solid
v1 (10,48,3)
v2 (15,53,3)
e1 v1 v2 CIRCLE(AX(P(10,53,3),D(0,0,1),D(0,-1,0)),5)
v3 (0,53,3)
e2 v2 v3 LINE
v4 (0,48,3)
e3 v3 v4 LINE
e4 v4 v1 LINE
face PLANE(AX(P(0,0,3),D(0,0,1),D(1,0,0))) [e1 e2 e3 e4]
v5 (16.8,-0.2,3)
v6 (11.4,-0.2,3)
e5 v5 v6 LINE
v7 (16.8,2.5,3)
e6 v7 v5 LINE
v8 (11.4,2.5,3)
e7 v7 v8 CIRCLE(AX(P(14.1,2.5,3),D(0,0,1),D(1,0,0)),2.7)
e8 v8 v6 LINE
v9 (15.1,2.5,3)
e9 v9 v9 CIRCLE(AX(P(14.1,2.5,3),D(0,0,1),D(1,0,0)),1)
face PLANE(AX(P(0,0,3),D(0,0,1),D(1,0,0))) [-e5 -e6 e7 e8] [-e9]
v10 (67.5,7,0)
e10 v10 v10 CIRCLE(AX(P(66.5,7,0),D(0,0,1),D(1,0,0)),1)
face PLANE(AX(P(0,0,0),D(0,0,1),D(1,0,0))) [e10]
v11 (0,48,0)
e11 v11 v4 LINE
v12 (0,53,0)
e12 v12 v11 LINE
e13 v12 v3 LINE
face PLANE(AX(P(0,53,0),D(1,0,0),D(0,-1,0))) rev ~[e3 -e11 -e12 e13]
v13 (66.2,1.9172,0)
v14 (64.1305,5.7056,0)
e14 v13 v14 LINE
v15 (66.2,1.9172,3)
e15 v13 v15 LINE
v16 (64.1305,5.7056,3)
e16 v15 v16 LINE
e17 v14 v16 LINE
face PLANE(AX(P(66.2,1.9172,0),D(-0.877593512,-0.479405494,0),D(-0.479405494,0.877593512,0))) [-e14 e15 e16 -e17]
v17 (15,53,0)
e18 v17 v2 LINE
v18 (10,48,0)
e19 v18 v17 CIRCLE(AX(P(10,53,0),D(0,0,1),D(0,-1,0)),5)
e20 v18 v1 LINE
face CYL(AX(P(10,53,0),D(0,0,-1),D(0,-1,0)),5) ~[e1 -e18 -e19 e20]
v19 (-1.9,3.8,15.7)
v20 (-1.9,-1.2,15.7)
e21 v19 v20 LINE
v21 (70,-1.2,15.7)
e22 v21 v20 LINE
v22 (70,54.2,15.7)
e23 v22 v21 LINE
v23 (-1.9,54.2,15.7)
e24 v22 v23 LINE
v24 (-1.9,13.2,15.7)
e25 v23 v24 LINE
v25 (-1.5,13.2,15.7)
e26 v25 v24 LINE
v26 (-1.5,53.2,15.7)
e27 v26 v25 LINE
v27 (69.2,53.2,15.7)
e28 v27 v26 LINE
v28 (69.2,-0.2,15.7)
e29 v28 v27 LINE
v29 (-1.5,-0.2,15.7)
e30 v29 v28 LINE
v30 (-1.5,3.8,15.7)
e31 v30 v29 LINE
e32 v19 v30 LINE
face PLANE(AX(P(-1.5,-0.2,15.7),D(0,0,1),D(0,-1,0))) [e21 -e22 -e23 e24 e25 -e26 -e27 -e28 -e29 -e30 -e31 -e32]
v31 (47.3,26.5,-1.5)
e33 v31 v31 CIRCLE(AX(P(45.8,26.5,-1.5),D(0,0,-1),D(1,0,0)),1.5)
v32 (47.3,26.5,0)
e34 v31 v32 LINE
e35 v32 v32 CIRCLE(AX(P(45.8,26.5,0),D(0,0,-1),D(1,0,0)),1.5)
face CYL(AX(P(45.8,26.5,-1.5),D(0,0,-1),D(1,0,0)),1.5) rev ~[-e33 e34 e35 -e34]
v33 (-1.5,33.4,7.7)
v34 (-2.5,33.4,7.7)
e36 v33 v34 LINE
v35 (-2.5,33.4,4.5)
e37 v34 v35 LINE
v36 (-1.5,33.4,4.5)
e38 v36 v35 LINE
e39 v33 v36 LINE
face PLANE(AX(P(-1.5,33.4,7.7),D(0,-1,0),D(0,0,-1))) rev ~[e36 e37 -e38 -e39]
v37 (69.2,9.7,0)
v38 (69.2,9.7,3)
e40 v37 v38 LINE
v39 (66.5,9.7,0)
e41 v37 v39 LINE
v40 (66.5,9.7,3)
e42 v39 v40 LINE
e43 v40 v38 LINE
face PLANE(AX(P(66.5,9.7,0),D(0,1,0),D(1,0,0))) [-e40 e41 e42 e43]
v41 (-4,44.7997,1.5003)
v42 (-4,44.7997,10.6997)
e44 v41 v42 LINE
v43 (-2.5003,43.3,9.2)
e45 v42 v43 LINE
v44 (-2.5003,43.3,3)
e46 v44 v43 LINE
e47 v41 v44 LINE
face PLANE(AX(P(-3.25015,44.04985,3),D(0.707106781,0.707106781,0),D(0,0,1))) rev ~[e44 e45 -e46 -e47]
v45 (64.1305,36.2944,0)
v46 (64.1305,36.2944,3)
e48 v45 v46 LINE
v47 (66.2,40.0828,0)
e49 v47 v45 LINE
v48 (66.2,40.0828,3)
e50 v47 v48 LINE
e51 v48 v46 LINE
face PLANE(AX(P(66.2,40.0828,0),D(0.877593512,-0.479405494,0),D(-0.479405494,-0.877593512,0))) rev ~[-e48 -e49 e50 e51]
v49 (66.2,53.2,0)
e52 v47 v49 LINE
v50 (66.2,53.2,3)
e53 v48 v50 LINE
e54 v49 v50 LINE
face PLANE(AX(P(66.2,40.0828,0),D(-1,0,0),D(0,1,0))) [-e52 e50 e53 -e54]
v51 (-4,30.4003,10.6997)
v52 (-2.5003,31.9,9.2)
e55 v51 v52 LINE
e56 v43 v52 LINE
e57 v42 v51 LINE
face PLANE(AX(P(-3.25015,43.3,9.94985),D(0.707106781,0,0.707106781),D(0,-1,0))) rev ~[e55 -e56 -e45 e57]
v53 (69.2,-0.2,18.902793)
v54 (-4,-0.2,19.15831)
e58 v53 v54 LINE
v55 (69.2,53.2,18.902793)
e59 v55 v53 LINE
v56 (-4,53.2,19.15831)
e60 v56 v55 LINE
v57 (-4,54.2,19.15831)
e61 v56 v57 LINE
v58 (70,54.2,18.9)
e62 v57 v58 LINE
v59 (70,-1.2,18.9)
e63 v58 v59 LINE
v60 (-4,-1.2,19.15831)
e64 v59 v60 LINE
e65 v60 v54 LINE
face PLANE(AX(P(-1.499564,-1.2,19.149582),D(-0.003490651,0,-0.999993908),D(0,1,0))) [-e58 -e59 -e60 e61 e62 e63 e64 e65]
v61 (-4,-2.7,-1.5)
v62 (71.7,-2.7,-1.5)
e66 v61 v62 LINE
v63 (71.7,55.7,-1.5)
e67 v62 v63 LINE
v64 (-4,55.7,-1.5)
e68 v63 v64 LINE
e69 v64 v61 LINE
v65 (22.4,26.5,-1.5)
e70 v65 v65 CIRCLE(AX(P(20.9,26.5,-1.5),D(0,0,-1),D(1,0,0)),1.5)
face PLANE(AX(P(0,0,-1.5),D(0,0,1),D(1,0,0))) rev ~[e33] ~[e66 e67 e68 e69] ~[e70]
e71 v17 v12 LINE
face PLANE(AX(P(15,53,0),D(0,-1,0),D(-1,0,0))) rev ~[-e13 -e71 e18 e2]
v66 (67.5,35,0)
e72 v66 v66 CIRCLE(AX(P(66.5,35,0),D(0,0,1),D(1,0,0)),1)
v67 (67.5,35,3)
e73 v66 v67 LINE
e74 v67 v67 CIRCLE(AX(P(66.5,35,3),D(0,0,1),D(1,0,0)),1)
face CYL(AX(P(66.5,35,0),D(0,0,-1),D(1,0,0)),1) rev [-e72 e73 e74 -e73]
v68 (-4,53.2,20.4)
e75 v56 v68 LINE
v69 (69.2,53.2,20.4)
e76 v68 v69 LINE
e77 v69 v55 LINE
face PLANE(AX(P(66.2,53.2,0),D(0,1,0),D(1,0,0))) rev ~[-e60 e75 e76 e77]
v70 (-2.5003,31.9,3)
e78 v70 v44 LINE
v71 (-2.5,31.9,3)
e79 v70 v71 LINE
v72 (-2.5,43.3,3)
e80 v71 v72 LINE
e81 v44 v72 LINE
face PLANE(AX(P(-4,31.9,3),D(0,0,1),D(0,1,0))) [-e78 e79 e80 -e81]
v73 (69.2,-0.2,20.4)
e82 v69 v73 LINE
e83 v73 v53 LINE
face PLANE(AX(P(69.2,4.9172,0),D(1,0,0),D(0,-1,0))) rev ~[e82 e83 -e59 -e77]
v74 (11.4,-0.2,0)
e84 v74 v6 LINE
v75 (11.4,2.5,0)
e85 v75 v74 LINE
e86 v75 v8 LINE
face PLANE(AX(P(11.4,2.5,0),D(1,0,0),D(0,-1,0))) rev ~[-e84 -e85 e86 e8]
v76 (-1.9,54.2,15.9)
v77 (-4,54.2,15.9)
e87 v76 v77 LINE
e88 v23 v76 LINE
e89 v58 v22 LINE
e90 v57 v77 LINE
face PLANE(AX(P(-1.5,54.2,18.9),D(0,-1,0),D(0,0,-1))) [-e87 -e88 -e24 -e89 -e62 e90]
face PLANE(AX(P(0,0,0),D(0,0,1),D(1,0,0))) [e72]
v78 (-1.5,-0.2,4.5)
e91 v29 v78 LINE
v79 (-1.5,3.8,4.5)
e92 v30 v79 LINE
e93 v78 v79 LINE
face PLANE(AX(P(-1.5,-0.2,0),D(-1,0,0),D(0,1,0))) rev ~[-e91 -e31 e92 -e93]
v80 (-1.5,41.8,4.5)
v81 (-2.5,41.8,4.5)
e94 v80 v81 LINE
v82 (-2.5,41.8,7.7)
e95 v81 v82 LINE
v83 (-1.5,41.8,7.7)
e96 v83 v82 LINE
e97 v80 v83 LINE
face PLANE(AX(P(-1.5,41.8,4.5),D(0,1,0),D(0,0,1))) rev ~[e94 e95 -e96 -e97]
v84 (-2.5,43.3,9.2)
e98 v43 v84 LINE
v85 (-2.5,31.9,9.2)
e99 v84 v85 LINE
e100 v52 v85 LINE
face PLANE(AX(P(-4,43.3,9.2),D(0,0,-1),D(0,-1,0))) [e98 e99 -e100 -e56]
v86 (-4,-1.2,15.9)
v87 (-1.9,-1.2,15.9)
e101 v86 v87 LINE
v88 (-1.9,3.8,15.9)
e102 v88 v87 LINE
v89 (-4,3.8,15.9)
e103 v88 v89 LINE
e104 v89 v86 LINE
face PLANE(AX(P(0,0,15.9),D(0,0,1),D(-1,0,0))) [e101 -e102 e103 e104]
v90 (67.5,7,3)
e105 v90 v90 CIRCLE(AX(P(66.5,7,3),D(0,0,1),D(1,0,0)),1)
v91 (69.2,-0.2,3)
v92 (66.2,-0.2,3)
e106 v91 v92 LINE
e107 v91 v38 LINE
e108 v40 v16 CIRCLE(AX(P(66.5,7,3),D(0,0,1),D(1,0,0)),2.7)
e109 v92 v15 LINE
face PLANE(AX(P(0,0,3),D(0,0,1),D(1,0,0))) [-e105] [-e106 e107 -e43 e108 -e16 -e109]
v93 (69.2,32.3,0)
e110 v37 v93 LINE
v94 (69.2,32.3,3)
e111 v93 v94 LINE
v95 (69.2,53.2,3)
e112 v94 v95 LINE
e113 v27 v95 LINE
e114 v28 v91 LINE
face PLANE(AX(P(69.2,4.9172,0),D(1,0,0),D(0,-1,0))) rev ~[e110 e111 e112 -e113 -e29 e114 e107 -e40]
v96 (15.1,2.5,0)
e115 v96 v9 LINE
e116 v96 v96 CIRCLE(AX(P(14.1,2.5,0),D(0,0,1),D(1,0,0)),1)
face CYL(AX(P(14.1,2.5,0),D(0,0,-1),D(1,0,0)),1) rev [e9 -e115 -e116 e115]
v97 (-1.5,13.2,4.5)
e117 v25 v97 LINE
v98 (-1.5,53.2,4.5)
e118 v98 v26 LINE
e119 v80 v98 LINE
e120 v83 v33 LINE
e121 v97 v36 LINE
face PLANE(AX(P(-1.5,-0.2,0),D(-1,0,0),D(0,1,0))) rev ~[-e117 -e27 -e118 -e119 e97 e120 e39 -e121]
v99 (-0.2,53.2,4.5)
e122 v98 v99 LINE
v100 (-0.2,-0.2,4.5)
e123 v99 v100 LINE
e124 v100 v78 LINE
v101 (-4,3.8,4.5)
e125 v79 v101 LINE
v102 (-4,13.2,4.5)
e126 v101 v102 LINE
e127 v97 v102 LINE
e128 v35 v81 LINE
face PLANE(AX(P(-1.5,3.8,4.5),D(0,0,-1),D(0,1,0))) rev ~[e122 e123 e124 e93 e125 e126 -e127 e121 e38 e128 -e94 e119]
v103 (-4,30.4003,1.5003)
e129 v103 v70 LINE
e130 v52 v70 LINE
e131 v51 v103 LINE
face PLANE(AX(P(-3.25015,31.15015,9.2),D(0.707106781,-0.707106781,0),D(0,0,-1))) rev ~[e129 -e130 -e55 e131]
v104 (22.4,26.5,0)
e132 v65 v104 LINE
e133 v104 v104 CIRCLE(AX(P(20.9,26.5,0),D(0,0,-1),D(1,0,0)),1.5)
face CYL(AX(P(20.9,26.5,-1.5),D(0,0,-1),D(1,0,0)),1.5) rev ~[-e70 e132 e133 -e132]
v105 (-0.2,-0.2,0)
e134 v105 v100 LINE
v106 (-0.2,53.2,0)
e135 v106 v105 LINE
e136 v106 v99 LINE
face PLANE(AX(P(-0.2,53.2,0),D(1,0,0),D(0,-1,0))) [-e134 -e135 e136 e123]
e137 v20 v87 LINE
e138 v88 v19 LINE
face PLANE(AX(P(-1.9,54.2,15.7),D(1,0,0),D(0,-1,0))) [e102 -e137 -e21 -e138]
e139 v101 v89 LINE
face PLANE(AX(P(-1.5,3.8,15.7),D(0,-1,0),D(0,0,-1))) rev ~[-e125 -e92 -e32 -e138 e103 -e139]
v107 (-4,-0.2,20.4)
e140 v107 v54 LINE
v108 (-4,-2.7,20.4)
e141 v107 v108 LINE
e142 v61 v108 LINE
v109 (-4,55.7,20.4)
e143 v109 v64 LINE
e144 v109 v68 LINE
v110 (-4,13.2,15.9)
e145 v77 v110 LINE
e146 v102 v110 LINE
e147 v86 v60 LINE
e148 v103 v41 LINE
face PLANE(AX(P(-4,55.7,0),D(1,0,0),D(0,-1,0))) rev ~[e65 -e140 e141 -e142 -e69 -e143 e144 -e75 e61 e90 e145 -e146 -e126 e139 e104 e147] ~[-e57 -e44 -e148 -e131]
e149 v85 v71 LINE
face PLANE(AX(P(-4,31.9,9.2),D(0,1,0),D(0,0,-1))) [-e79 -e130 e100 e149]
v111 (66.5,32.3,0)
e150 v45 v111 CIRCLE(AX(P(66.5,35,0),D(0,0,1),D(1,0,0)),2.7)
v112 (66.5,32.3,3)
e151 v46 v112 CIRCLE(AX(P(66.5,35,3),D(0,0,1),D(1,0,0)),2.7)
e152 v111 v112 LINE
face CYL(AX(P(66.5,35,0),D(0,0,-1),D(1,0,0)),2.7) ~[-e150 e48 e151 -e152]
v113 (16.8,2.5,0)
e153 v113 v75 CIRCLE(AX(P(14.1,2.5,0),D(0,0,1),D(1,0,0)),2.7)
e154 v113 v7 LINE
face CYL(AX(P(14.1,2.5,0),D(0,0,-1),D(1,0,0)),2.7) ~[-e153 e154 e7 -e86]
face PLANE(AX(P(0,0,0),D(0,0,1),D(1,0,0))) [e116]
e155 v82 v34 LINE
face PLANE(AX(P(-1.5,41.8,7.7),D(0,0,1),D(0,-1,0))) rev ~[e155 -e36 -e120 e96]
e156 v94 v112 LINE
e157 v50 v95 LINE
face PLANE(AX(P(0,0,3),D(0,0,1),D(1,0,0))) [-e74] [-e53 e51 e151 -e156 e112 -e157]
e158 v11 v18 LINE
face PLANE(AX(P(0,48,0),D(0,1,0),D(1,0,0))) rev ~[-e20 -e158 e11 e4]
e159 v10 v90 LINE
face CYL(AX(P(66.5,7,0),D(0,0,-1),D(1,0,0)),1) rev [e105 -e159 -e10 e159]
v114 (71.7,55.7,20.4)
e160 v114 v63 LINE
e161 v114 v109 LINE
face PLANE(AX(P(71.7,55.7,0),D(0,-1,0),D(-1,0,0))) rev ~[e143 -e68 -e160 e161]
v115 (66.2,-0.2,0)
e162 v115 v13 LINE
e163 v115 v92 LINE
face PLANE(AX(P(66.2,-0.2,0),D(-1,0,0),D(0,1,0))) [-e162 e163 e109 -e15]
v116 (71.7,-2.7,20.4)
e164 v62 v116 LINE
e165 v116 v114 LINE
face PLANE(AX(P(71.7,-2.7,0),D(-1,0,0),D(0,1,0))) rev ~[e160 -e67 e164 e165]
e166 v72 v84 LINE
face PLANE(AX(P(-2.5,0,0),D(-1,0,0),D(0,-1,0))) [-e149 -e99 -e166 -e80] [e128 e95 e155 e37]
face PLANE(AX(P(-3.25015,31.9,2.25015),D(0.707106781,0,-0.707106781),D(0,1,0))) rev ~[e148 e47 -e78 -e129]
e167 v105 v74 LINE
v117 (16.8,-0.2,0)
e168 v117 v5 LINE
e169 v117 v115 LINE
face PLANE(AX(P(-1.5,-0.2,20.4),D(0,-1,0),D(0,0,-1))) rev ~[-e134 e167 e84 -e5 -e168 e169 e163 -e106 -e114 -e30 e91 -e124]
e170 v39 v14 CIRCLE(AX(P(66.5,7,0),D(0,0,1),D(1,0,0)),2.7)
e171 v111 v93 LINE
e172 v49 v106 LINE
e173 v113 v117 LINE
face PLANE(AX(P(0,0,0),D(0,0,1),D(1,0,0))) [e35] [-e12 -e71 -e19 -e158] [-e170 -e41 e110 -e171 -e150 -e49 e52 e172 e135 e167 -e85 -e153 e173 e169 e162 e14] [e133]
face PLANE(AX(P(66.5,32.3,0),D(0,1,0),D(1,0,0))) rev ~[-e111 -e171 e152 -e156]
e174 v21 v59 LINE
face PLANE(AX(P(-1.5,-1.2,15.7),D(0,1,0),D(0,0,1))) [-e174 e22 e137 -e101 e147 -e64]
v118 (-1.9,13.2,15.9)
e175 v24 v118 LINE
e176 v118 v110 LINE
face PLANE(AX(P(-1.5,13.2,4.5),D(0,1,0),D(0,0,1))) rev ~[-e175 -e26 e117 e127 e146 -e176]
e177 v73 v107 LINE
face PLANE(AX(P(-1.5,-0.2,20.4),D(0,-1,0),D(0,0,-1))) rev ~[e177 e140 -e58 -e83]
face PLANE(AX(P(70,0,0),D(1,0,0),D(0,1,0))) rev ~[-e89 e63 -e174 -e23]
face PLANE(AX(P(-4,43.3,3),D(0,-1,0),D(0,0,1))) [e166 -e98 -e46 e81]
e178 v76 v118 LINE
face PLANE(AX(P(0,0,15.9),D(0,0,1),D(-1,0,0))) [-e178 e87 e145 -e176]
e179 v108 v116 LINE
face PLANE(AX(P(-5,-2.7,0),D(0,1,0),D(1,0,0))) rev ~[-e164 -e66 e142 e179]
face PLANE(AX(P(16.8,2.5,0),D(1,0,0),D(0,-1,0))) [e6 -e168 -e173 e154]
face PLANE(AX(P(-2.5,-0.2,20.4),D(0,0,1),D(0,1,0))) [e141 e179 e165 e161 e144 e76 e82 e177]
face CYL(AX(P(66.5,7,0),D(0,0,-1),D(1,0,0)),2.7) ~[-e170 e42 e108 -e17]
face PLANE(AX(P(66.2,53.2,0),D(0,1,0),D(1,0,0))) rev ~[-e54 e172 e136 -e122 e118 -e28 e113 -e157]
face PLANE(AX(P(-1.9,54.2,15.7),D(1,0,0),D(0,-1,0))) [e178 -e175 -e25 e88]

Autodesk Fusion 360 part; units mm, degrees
sketch "Esquisse1" plane through (0, 0, 0) normal (0, 0, 1) x (1, 0, 0)
  line L0 (0, 0) -> (66, 0) construction
  line L1 (66, 53) -> (0, 53) construction
  line L2 (0, 53) -> (0, 0) construction
  line L3 (66, 0) -> (66, 2) construction
  line L4 (66, 2) -> (69, 5) construction
  line L5 (69, 5) -> (69, 37) construction
  line L6 (69, 37) -> (66, 40) construction
  line L7 (66, 40) -> (66, 53) construction
  line L8 (-0.2, -0.2) -> (66.2, -0.2)
  line L9 (66.2, -0.2) -> (66.2, 1.9172)
  line L10 (66.2, 1.9172) -> (69.2, 4.9172)
  line L11 (69.2, 4.9172) -> (69.2, 37.0828)
  line L12 (69.2, 37.0828) -> (66.2, 40.0828)
  line L13 (66.2, 40.0828) -> (66.2, 53.2)
  line L14 (66.2, 53.2) -> (-0.2, 53.2)
  line L15 (-0.2, 53.2) -> (-0.2, -0.2)
  dimension "d1" = 66
  dimension "d2" = 53
  dimension "d6" = 37
  dimension "d7" = 40
  dimension "d10" = 3
  dimension "d11" = 3
  dimension "d12" = 2
  dimension "d24" = 0.2
sketch "Esquisse2" plane through (0, 0, 0) normal (0, 0, 1) x (1, 0, 0)
  circle A0 centre (14.1, 2.5) radius 1
  circle A1 centre (66.5, 35) radius 1
  circle A2 centre (66.5, 7) radius 1
  line L0 (0, 53) -> (0, 0)
  line L1 (66, 53) -> (0, 53)
  line L2 (69, 5) -> (69, 37)
  line L3 (66.5, 7) -> (66.5, 35) construction
  line L4 (0, 0) -> (66, 0) construction
  circle A3 centre (14.1, 2.5) radius 2.7
  circle A4 centre (66.5, 35) radius 2.7
  circle A5 centre (66.5, 7) radius 2.7
  line L5 (69.2, 37.0828) -> (66.2, 40.0828)
  line L6 (66.2, 40.0828) -> (66.2, 53.2)
  line L7 (66.2, 40.0828) -> (64.1305, 36.2944)
  line L8 (69.2, 4.9172) -> (69.2, 37.0828)
  line L9 (66.5, 32.3) -> (69.2, 32.3)
  arc A6 (64.1305, 36.2944) -> (66.5, 32.3) centre (66.5, 35) ccw
  line L10 (66.2, 1.9172) -> (69.2, 4.9172)
  line L11 (66.2, -0.2) -> (66.2, 1.9172)
  line L12 (66.2, 1.9172) -> (64.1305, 5.7056)
  line L13 (66.5, 9.7) -> (69.2, 9.7)
  arc A7 (66.5, 9.7) -> (64.1305, 5.7056) centre (66.5, 7) ccw
  line L14 (-0.2, -0.2) -> (66.2, -0.2)
  line L15 (16.8, 2.5) -> (16.8, -0.2)
  line L16 (11.4, 2.5) -> (11.4, -0.2)
  arc A8 (16.8, 2.5) -> (11.4, 2.5) centre (14.1, 2.5) ccw
  line L17 (0, 48) -> (10, 48)
  line L18 (10, 48) -> (10, 53) construction
  arc A9 (10, 48) -> (15, 53) centre (10, 53) ccw
  dimension "d14" = 2
  dimension "d15" = 2
  dimension "d16" = 2
  dimension "d17" = 14.1
  dimension "d20" = 2.5
  dimension "d21" = 7
  dimension "d22" = 2
  dimension "d33" = 1.7
  dimension "d34" = 2.5
  dimension "d45" = 5
  dimension "d46" = 10
  dimension "d85" = 2.7
sketch "Esquisse3" plane through (0, 0, 0) normal (0, 0, 1) x (1, 0, 0)
  line L0 (-4, -1.7) -> (70.7, -1.7)
  line L1 (70.7, -1.7) -> (70.7, 54.7)
  line L2 (70.7, 54.7) -> (-4, 54.7)
  line L3 (-4, 54.7) -> (-4, -1.7)
  line L4 (-0.2, -0.2) -> (66.2, -0.2)
  line L5 (69.2, 4.9172) -> (69.2, 37.0828)
  line L6 (-5, -2.7) -> (71.7, -2.7)
  line L7 (71.7, -2.7) -> (71.7, 55.7)
  line L8 (71.7, 55.7) -> (-5, 55.7)
  line L9 (-5, 55.7) -> (-5, -2.7)
  dimension "d26" = 56.4
  dimension "d27" = 1.5
  dimension "d28" = 74.7
  dimension "d29" = 1.5
  dimension "d52" = 1
extrude "Extrusion1" add sketch "Esquisse3" against normal blind 1.5 contours L0 L1 L2 L3
sketch "Esquisse4" plane through (0, 0, 0) normal (0, 0, 1) x (-1, 0, 0)
  line L0 (4, -54.7) -> (4, 1.7)
  line L1 (4, 1.7) -> (-70.7, 1.7)
  line L2 (-70.7, 1.7) -> (-70.7, -54.7)
  line L3 (-70.7, -54.7) -> (4, -54.7)
  line L4 (4, -54.7) -> (-70.7, -54.7)
  line L5 (-70.7, -54.7) -> (-70.7, 1.7)
  line L6 (-70.7, 1.7) -> (4, 1.7)
  line L7 (4, 1.7) -> (4, -54.7)
  line L8 (2.5, -53.2) -> (-69.2, -53.2)
  line L9 (-69.2, -53.2) -> (-69.2, 0.2)
  line L10 (-69.2, 0.2) -> (2.5, 0.2)
  line L11 (2.5, 0.2) -> (2.5, -53.2)
  line L12 (-66.2, 0.2) -> (-66.2, -1.9172)
  line L13 (-66.2, -1.9172) -> (-69.2, -4.9172)
  line L14 (-66.2, -40.0828) -> (-66.2, -53.2)
  line L15 (-69.2, -37.0828) -> (-66.2, -40.0828)
  line L16 (0.2, -53.2) -> (0.2, 0.2)
  dimension "d32" = 1.5
extrude "Extrusion2" add sketch "Esquisse2" along normal blind 2 contours A1 | A2 | L2 A5 A7 | A5 L8 L10 L12 | L2 A5 | L2 A5 L13 | L2 A5 L8 L13 | L2 A4 L9 | L2 A4 L8 L9 | L2 A4 A6 | L2 A4 | A4 L5 L7 L8 | A3 A8 | A3 L14 L15 | A3 L14 L16
extrude "Extrusion3" cut 3 faces at (14.0751, 0.3676, 2) (66.6102, 6.7743, 2) (66.6102, 35.2257, 2) along direction (0, 0, -1) blind 2
extrude "Extrusion4" add sketch "Esquisse2" sketch "Esquisse4" along normal blind 3 contours L2 A5 A7 | A5 L8 L10 L12 | L2 A5 | L2 A5 L13 | L2 A5 L8 L13 | L2 A4 L9 | L2 A4 L8 L9 | L2 A4 A6 | L2 A4 | A4 L5 L7 L8 | A3 A8 | A3 L14 L15 | A3 L14 L16 of sketch 2 contours L8 L9 L14 L15 | L9 L10 L12 L13
extrude "Extrusion5" add sketch "Esquisse4" along normal blind 4.5 contours L8 L10 L11 L16
extrude "Extrusion6" add sketch "Esquisse3" sketch "Esquisse4" along normal blind 20.4 and the other way up to surface of sketch 2 second end surface through (0, 0, -1.5) normal (0, 0, -1) offset 0
extrude "Extrusion7" add sketch "Esquisse2" along normal blind 3 contours L0 L1 L17 A9
sketch "Esquisse5" plane through (0, 0, -1.5) normal (0, 0, -1) x (1, 0, 0)
  line L0 (70.7, -26.5) -> (-4, -26.5) construction
  circle A0 centre (45.8, -26.5) radius 1.5
  circle A1 centre (20.9, -26.5) radius 1.5
  line L1 (20.9, -28) -> (-4, -28) construction
  line L2 (20.9, -28) -> (45.8, -28) construction
  line L3 (45.8, -28) -> (70.7, -28) construction
  line L4 (71.7, 2.7) -> (-5, 2.7)
  line L5 (-5, 2.7) -> (-5, -55.7)
  line L6 (-5, -55.7) -> (71.7, -55.7)
  line L7 (71.7, -55.7) -> (71.7, 2.7)
  dimension "d49" = 3
extrude "Extrusion8" cut sketch "Esquisse5" against normal blind 1.5 contours A0 | A1
extrude "Extrusion11" add 1 faces at (-2.5, 17.6, 9.8) along direction (1, 0, 0) blind 1
extrude "Extrusion12" cut 1 faces at (-5, 36.2333, 5.8) along direction (1, 0, 0) blind 1
sketch "Esquisse10" plane through (-1.5, 0, 0) normal (1, 0, 0) x (0, 1, 0)
  line L0 (-0.2, 4.5) -> (53.2, 4.5)
  line L1 (53.2, 4.5) -> (53.2, 20.4)
  line L2 (53.2, 20.4) -> (-0.2, 20.4)
  line L3 (-0.2, 20.4) -> (-0.2, 4.5)
  line L4 (-1.2, 18.9) -> (54.2, 18.9)
  line L5 (54.2, 18.9) -> (54.2, 15.7)
  line L6 (54.2, 15.7) -> (-1.2, 15.7)
  line L7 (-1.2, 15.7) -> (-1.2, 18.9)
  line L8 (26.5, 18.9) -> (26.5, 20.4) construction
  line L9 (-0.2, 18.9) -> (-0.2, 20.4)
  line L10 (-0.2, 20.4) -> (53.2, 20.4)
  dimension "d89" = 1.5
  dimension "d90" = 3.2
  dimension "d93" = 55.4
extrude "Extrusion17" cut sketch "Esquisse10" against normal up to surface (2.5 mm away) contours L3 L4 L6 L7 | L1 L3 L4 L6 | L1 L4 L5 L6 | L1 L2 L3 L4 L9 L10
extrude "Extrusion18" cut sketch "Esquisse10" along normal blind 71.5 contours L3 L4 L6 L7 | L1 L3 L4 L6 | L1 L4 L5 L6
sketch "Esquisse11" plane through (0, 0, 15.7) normal (0, 0, 1) x (-1, 0, 0)
  line L0 (-70, -54.2) -> (4, -54.2)
  line L1 (4, -54.2) -> (4, 1.2)
  line L2 (4, 1.2) -> (-70, 1.2)
  line L3 (-70, 1.2) -> (-70, -54.2)
  line L4 (1.5, -53.2) -> (-69.2, -53.2)
  line L5 (-69.2, -53.2) -> (-69.2, 0.2)
  line L6 (-69.2, 0.2) -> (1.5, 0.2)
  line L7 (1.5, 0.2) -> (1.5, -53.2)
  line L8 (1.9, -54.2) -> (1.9, 1.2)
  dimension "d98" = 71.9
extrude "Extrusion19" add sketch "Esquisse11" along normal blind 0.2 contours L0 L1 L2 L8
sketch "Esquisse7" plane through (-1.5, 0, 0) normal (1, 0, 0) x (0, 1, 0)
  line L0 (-0.2, 15.7) -> (-0.2, 4.5)
  line L1 (-0.2, 4.5) -> (53.2, 4.5)
  line L2 (53.2, 4.5) -> (53.2, 15.7)
  line L3 (3.8, 4.5) -> (13.2, 4.5)
  line L4 (13.2, 4.5) -> (13.2, 15.9)
  line L5 (13.2, 15.9) -> (3.8, 15.9)
  line L6 (3.8, 15.9) -> (3.8, 4.5)
  line L7 (33.4, 4.5) -> (41.8, 4.5)
  line L8 (41.8, 4.5) -> (41.8, 7.7)
  line L9 (41.8, 7.7) -> (33.4, 7.7)
  line L10 (33.4, 7.7) -> (33.4, 4.5)
  line L11 (53.2, 15.7) -> (-0.2, 15.7)
  dimension "d66" = 9.4
  dimension "d67" = 11.4
  dimension "d68" = 4
  dimension "d71" = 8.4
  dimension "d72" = 3.2
  dimension "d73" = 11.4
extrude "Extrusion14" cut sketch "Esquisse7" against normal blind 2.5 contours L1 L3 L4 L6 L11 | L4 L5 L6 L11 | L1 L7 L8 L9 L10
sketch "Esquisse8" plane through (-4, 0, 0) normal (-1, 0, 0) x (0, -1, 0)
  line L0 (-3.8, 4.5) -> (-13.2, 4.5)
  line L1 (-13.2, 4.5) -> (-13.2, 15.9)
  line L2 (-3.8, 15.9) -> (-3.8, 4.5)
  line L3 (-33.4, 4.5) -> (-41.8, 4.5)
  line L4 (-41.8, 4.5) -> (-41.8, 7.7)
  line L5 (-41.8, 7.7) -> (-33.4, 7.7)
  line L6 (-33.4, 7.7) -> (-33.4, 4.5)
  line L7 (-53.2, 20.4) -> (-55.7, 20.4)
  line L8 (-55.7, -1.5) -> (2.7, -1.5)
  line L9 (-31.9, 3) -> (-43.3, 3)
  line L10 (-43.3, 3) -> (-43.3, 9.2)
  line L11 (-43.3, 9.2) -> (-31.9, 9.2)
  line L12 (-31.9, 9.2) -> (-31.9, 3)
  line L13 (2.7, -1.5) -> (2.7, 20.4)
  line L14 (-55.7, 20.4) -> (-55.7, -1.5)
  line L15 (-13.2, 15.9) -> (-54.2, 15.9)
  line L16 (-54.2, 15.9) -> (-54.2, 18.9)
  line L17 (-54.2, 18.9) -> (-53.2, 18.9)
  line L18 (-53.2, 18.9) -> (-53.2, 20.4)
  line L19 (2.7, 20.4) -> (0.2, 20.4)
  line L20 (0.2, 20.4) -> (0.2, 18.9)
  line L21 (0.2, 18.9) -> (1.2, 18.9)
  line L22 (1.2, 18.9) -> (1.2, 15.9)
  line L23 (1.2, 15.9) -> (-3.8, 15.9)
  dimension "d79" = -1.5
extrude "Extrusion16" cut sketch "Esquisse8" against normal blind 1.5 contours L9 L10 L11 L12
chamfer "Chanfrein1" distance 1.5 angle 45 4 edges at (-4, 31.9, 6.1) (-4, 37.6, 9.2) (-4, 43.3, 6.1) (-4, 37.6, 3)
draft "Dépouille1" angle 0.2 neutral plane through (70, 0, 0) pull (-1, 0, 0) 1 faces at (45.0667, -0.8667, 18.9)
equation "d1 = longArduino"
equation "d2 = largArduino"
equation "longArduino = 66 mm"
equation "largArduino = 53 mm"
equation "d6 = longEncoche - largEncoche"
equation "d7 = longEncoche"
equation "longEncoche = 40 mm"
equation "largEncoche = 3 mm"
equation "d10 = largEncoche"
equation "d11 = largEncoche"
equation "percageArduino = 2 mm"
equation "d14 = percageArduino"
equation "d15 = percageArduino"
equation "d16 = percageArduino"
equation "decalagePercage = 2.5 mm"
equation "d20 = decalagePercage"
equation "decalageImpression = 0.2 mm"
equation "d24 = decalageImpression"
equation "epaisseurBoitier = 1.5 mm"
equation "d26 = largArduino + ( epaisseurBoitier + decalageImpression ) * 2"
equation "d27 = epaisseurBoitier"
equation "d28 = longArduino + largEncoche + epaisseurBoitier + decalageImpression + 4 mm"
equation "d29 = epaisseurBoitier"
equation "d33 = epaisseurBoitier + decalageImpression"
equation "d34 = decalagePercage"
equation "d41 = 3 mm + 1.5 mm"
equation "d43 = 20 mm - 1.3 mm + epaisseurBoitier + decalageImpression"
equation "largPriseDC = 9 mm"
equation "longPriseDC = 11 mm"
equation "d66 = largPriseDC + decalageImpression * 2"
equation "d67 = longPriseDC + decalageImpression * 2"
equation "largPriseUSB = 3 mm"
equation "longPriseUSB = 8 mm"
equation "d71 = longPriseUSB + decalageImpression * 2"
equation "d72 = largPriseUSB + decalageImpression"
equation "epaisseurPlexi = 3 mm"
equation "d89 = epaisseurBoitier"
equation "d90 = epaisseurPlexi + decalageImpression"
equation "largeurPlexi = 55 mm"
equation "longueurPlexi = 71.5 mm"
equation "d93 = largeurPlexi + decalageImpression * 2"
equation "d96 = longueurPlexi"
equation "d98 = longueurPlexi + decalageImpression * 2"
equation "d99 = decalageImpression"
